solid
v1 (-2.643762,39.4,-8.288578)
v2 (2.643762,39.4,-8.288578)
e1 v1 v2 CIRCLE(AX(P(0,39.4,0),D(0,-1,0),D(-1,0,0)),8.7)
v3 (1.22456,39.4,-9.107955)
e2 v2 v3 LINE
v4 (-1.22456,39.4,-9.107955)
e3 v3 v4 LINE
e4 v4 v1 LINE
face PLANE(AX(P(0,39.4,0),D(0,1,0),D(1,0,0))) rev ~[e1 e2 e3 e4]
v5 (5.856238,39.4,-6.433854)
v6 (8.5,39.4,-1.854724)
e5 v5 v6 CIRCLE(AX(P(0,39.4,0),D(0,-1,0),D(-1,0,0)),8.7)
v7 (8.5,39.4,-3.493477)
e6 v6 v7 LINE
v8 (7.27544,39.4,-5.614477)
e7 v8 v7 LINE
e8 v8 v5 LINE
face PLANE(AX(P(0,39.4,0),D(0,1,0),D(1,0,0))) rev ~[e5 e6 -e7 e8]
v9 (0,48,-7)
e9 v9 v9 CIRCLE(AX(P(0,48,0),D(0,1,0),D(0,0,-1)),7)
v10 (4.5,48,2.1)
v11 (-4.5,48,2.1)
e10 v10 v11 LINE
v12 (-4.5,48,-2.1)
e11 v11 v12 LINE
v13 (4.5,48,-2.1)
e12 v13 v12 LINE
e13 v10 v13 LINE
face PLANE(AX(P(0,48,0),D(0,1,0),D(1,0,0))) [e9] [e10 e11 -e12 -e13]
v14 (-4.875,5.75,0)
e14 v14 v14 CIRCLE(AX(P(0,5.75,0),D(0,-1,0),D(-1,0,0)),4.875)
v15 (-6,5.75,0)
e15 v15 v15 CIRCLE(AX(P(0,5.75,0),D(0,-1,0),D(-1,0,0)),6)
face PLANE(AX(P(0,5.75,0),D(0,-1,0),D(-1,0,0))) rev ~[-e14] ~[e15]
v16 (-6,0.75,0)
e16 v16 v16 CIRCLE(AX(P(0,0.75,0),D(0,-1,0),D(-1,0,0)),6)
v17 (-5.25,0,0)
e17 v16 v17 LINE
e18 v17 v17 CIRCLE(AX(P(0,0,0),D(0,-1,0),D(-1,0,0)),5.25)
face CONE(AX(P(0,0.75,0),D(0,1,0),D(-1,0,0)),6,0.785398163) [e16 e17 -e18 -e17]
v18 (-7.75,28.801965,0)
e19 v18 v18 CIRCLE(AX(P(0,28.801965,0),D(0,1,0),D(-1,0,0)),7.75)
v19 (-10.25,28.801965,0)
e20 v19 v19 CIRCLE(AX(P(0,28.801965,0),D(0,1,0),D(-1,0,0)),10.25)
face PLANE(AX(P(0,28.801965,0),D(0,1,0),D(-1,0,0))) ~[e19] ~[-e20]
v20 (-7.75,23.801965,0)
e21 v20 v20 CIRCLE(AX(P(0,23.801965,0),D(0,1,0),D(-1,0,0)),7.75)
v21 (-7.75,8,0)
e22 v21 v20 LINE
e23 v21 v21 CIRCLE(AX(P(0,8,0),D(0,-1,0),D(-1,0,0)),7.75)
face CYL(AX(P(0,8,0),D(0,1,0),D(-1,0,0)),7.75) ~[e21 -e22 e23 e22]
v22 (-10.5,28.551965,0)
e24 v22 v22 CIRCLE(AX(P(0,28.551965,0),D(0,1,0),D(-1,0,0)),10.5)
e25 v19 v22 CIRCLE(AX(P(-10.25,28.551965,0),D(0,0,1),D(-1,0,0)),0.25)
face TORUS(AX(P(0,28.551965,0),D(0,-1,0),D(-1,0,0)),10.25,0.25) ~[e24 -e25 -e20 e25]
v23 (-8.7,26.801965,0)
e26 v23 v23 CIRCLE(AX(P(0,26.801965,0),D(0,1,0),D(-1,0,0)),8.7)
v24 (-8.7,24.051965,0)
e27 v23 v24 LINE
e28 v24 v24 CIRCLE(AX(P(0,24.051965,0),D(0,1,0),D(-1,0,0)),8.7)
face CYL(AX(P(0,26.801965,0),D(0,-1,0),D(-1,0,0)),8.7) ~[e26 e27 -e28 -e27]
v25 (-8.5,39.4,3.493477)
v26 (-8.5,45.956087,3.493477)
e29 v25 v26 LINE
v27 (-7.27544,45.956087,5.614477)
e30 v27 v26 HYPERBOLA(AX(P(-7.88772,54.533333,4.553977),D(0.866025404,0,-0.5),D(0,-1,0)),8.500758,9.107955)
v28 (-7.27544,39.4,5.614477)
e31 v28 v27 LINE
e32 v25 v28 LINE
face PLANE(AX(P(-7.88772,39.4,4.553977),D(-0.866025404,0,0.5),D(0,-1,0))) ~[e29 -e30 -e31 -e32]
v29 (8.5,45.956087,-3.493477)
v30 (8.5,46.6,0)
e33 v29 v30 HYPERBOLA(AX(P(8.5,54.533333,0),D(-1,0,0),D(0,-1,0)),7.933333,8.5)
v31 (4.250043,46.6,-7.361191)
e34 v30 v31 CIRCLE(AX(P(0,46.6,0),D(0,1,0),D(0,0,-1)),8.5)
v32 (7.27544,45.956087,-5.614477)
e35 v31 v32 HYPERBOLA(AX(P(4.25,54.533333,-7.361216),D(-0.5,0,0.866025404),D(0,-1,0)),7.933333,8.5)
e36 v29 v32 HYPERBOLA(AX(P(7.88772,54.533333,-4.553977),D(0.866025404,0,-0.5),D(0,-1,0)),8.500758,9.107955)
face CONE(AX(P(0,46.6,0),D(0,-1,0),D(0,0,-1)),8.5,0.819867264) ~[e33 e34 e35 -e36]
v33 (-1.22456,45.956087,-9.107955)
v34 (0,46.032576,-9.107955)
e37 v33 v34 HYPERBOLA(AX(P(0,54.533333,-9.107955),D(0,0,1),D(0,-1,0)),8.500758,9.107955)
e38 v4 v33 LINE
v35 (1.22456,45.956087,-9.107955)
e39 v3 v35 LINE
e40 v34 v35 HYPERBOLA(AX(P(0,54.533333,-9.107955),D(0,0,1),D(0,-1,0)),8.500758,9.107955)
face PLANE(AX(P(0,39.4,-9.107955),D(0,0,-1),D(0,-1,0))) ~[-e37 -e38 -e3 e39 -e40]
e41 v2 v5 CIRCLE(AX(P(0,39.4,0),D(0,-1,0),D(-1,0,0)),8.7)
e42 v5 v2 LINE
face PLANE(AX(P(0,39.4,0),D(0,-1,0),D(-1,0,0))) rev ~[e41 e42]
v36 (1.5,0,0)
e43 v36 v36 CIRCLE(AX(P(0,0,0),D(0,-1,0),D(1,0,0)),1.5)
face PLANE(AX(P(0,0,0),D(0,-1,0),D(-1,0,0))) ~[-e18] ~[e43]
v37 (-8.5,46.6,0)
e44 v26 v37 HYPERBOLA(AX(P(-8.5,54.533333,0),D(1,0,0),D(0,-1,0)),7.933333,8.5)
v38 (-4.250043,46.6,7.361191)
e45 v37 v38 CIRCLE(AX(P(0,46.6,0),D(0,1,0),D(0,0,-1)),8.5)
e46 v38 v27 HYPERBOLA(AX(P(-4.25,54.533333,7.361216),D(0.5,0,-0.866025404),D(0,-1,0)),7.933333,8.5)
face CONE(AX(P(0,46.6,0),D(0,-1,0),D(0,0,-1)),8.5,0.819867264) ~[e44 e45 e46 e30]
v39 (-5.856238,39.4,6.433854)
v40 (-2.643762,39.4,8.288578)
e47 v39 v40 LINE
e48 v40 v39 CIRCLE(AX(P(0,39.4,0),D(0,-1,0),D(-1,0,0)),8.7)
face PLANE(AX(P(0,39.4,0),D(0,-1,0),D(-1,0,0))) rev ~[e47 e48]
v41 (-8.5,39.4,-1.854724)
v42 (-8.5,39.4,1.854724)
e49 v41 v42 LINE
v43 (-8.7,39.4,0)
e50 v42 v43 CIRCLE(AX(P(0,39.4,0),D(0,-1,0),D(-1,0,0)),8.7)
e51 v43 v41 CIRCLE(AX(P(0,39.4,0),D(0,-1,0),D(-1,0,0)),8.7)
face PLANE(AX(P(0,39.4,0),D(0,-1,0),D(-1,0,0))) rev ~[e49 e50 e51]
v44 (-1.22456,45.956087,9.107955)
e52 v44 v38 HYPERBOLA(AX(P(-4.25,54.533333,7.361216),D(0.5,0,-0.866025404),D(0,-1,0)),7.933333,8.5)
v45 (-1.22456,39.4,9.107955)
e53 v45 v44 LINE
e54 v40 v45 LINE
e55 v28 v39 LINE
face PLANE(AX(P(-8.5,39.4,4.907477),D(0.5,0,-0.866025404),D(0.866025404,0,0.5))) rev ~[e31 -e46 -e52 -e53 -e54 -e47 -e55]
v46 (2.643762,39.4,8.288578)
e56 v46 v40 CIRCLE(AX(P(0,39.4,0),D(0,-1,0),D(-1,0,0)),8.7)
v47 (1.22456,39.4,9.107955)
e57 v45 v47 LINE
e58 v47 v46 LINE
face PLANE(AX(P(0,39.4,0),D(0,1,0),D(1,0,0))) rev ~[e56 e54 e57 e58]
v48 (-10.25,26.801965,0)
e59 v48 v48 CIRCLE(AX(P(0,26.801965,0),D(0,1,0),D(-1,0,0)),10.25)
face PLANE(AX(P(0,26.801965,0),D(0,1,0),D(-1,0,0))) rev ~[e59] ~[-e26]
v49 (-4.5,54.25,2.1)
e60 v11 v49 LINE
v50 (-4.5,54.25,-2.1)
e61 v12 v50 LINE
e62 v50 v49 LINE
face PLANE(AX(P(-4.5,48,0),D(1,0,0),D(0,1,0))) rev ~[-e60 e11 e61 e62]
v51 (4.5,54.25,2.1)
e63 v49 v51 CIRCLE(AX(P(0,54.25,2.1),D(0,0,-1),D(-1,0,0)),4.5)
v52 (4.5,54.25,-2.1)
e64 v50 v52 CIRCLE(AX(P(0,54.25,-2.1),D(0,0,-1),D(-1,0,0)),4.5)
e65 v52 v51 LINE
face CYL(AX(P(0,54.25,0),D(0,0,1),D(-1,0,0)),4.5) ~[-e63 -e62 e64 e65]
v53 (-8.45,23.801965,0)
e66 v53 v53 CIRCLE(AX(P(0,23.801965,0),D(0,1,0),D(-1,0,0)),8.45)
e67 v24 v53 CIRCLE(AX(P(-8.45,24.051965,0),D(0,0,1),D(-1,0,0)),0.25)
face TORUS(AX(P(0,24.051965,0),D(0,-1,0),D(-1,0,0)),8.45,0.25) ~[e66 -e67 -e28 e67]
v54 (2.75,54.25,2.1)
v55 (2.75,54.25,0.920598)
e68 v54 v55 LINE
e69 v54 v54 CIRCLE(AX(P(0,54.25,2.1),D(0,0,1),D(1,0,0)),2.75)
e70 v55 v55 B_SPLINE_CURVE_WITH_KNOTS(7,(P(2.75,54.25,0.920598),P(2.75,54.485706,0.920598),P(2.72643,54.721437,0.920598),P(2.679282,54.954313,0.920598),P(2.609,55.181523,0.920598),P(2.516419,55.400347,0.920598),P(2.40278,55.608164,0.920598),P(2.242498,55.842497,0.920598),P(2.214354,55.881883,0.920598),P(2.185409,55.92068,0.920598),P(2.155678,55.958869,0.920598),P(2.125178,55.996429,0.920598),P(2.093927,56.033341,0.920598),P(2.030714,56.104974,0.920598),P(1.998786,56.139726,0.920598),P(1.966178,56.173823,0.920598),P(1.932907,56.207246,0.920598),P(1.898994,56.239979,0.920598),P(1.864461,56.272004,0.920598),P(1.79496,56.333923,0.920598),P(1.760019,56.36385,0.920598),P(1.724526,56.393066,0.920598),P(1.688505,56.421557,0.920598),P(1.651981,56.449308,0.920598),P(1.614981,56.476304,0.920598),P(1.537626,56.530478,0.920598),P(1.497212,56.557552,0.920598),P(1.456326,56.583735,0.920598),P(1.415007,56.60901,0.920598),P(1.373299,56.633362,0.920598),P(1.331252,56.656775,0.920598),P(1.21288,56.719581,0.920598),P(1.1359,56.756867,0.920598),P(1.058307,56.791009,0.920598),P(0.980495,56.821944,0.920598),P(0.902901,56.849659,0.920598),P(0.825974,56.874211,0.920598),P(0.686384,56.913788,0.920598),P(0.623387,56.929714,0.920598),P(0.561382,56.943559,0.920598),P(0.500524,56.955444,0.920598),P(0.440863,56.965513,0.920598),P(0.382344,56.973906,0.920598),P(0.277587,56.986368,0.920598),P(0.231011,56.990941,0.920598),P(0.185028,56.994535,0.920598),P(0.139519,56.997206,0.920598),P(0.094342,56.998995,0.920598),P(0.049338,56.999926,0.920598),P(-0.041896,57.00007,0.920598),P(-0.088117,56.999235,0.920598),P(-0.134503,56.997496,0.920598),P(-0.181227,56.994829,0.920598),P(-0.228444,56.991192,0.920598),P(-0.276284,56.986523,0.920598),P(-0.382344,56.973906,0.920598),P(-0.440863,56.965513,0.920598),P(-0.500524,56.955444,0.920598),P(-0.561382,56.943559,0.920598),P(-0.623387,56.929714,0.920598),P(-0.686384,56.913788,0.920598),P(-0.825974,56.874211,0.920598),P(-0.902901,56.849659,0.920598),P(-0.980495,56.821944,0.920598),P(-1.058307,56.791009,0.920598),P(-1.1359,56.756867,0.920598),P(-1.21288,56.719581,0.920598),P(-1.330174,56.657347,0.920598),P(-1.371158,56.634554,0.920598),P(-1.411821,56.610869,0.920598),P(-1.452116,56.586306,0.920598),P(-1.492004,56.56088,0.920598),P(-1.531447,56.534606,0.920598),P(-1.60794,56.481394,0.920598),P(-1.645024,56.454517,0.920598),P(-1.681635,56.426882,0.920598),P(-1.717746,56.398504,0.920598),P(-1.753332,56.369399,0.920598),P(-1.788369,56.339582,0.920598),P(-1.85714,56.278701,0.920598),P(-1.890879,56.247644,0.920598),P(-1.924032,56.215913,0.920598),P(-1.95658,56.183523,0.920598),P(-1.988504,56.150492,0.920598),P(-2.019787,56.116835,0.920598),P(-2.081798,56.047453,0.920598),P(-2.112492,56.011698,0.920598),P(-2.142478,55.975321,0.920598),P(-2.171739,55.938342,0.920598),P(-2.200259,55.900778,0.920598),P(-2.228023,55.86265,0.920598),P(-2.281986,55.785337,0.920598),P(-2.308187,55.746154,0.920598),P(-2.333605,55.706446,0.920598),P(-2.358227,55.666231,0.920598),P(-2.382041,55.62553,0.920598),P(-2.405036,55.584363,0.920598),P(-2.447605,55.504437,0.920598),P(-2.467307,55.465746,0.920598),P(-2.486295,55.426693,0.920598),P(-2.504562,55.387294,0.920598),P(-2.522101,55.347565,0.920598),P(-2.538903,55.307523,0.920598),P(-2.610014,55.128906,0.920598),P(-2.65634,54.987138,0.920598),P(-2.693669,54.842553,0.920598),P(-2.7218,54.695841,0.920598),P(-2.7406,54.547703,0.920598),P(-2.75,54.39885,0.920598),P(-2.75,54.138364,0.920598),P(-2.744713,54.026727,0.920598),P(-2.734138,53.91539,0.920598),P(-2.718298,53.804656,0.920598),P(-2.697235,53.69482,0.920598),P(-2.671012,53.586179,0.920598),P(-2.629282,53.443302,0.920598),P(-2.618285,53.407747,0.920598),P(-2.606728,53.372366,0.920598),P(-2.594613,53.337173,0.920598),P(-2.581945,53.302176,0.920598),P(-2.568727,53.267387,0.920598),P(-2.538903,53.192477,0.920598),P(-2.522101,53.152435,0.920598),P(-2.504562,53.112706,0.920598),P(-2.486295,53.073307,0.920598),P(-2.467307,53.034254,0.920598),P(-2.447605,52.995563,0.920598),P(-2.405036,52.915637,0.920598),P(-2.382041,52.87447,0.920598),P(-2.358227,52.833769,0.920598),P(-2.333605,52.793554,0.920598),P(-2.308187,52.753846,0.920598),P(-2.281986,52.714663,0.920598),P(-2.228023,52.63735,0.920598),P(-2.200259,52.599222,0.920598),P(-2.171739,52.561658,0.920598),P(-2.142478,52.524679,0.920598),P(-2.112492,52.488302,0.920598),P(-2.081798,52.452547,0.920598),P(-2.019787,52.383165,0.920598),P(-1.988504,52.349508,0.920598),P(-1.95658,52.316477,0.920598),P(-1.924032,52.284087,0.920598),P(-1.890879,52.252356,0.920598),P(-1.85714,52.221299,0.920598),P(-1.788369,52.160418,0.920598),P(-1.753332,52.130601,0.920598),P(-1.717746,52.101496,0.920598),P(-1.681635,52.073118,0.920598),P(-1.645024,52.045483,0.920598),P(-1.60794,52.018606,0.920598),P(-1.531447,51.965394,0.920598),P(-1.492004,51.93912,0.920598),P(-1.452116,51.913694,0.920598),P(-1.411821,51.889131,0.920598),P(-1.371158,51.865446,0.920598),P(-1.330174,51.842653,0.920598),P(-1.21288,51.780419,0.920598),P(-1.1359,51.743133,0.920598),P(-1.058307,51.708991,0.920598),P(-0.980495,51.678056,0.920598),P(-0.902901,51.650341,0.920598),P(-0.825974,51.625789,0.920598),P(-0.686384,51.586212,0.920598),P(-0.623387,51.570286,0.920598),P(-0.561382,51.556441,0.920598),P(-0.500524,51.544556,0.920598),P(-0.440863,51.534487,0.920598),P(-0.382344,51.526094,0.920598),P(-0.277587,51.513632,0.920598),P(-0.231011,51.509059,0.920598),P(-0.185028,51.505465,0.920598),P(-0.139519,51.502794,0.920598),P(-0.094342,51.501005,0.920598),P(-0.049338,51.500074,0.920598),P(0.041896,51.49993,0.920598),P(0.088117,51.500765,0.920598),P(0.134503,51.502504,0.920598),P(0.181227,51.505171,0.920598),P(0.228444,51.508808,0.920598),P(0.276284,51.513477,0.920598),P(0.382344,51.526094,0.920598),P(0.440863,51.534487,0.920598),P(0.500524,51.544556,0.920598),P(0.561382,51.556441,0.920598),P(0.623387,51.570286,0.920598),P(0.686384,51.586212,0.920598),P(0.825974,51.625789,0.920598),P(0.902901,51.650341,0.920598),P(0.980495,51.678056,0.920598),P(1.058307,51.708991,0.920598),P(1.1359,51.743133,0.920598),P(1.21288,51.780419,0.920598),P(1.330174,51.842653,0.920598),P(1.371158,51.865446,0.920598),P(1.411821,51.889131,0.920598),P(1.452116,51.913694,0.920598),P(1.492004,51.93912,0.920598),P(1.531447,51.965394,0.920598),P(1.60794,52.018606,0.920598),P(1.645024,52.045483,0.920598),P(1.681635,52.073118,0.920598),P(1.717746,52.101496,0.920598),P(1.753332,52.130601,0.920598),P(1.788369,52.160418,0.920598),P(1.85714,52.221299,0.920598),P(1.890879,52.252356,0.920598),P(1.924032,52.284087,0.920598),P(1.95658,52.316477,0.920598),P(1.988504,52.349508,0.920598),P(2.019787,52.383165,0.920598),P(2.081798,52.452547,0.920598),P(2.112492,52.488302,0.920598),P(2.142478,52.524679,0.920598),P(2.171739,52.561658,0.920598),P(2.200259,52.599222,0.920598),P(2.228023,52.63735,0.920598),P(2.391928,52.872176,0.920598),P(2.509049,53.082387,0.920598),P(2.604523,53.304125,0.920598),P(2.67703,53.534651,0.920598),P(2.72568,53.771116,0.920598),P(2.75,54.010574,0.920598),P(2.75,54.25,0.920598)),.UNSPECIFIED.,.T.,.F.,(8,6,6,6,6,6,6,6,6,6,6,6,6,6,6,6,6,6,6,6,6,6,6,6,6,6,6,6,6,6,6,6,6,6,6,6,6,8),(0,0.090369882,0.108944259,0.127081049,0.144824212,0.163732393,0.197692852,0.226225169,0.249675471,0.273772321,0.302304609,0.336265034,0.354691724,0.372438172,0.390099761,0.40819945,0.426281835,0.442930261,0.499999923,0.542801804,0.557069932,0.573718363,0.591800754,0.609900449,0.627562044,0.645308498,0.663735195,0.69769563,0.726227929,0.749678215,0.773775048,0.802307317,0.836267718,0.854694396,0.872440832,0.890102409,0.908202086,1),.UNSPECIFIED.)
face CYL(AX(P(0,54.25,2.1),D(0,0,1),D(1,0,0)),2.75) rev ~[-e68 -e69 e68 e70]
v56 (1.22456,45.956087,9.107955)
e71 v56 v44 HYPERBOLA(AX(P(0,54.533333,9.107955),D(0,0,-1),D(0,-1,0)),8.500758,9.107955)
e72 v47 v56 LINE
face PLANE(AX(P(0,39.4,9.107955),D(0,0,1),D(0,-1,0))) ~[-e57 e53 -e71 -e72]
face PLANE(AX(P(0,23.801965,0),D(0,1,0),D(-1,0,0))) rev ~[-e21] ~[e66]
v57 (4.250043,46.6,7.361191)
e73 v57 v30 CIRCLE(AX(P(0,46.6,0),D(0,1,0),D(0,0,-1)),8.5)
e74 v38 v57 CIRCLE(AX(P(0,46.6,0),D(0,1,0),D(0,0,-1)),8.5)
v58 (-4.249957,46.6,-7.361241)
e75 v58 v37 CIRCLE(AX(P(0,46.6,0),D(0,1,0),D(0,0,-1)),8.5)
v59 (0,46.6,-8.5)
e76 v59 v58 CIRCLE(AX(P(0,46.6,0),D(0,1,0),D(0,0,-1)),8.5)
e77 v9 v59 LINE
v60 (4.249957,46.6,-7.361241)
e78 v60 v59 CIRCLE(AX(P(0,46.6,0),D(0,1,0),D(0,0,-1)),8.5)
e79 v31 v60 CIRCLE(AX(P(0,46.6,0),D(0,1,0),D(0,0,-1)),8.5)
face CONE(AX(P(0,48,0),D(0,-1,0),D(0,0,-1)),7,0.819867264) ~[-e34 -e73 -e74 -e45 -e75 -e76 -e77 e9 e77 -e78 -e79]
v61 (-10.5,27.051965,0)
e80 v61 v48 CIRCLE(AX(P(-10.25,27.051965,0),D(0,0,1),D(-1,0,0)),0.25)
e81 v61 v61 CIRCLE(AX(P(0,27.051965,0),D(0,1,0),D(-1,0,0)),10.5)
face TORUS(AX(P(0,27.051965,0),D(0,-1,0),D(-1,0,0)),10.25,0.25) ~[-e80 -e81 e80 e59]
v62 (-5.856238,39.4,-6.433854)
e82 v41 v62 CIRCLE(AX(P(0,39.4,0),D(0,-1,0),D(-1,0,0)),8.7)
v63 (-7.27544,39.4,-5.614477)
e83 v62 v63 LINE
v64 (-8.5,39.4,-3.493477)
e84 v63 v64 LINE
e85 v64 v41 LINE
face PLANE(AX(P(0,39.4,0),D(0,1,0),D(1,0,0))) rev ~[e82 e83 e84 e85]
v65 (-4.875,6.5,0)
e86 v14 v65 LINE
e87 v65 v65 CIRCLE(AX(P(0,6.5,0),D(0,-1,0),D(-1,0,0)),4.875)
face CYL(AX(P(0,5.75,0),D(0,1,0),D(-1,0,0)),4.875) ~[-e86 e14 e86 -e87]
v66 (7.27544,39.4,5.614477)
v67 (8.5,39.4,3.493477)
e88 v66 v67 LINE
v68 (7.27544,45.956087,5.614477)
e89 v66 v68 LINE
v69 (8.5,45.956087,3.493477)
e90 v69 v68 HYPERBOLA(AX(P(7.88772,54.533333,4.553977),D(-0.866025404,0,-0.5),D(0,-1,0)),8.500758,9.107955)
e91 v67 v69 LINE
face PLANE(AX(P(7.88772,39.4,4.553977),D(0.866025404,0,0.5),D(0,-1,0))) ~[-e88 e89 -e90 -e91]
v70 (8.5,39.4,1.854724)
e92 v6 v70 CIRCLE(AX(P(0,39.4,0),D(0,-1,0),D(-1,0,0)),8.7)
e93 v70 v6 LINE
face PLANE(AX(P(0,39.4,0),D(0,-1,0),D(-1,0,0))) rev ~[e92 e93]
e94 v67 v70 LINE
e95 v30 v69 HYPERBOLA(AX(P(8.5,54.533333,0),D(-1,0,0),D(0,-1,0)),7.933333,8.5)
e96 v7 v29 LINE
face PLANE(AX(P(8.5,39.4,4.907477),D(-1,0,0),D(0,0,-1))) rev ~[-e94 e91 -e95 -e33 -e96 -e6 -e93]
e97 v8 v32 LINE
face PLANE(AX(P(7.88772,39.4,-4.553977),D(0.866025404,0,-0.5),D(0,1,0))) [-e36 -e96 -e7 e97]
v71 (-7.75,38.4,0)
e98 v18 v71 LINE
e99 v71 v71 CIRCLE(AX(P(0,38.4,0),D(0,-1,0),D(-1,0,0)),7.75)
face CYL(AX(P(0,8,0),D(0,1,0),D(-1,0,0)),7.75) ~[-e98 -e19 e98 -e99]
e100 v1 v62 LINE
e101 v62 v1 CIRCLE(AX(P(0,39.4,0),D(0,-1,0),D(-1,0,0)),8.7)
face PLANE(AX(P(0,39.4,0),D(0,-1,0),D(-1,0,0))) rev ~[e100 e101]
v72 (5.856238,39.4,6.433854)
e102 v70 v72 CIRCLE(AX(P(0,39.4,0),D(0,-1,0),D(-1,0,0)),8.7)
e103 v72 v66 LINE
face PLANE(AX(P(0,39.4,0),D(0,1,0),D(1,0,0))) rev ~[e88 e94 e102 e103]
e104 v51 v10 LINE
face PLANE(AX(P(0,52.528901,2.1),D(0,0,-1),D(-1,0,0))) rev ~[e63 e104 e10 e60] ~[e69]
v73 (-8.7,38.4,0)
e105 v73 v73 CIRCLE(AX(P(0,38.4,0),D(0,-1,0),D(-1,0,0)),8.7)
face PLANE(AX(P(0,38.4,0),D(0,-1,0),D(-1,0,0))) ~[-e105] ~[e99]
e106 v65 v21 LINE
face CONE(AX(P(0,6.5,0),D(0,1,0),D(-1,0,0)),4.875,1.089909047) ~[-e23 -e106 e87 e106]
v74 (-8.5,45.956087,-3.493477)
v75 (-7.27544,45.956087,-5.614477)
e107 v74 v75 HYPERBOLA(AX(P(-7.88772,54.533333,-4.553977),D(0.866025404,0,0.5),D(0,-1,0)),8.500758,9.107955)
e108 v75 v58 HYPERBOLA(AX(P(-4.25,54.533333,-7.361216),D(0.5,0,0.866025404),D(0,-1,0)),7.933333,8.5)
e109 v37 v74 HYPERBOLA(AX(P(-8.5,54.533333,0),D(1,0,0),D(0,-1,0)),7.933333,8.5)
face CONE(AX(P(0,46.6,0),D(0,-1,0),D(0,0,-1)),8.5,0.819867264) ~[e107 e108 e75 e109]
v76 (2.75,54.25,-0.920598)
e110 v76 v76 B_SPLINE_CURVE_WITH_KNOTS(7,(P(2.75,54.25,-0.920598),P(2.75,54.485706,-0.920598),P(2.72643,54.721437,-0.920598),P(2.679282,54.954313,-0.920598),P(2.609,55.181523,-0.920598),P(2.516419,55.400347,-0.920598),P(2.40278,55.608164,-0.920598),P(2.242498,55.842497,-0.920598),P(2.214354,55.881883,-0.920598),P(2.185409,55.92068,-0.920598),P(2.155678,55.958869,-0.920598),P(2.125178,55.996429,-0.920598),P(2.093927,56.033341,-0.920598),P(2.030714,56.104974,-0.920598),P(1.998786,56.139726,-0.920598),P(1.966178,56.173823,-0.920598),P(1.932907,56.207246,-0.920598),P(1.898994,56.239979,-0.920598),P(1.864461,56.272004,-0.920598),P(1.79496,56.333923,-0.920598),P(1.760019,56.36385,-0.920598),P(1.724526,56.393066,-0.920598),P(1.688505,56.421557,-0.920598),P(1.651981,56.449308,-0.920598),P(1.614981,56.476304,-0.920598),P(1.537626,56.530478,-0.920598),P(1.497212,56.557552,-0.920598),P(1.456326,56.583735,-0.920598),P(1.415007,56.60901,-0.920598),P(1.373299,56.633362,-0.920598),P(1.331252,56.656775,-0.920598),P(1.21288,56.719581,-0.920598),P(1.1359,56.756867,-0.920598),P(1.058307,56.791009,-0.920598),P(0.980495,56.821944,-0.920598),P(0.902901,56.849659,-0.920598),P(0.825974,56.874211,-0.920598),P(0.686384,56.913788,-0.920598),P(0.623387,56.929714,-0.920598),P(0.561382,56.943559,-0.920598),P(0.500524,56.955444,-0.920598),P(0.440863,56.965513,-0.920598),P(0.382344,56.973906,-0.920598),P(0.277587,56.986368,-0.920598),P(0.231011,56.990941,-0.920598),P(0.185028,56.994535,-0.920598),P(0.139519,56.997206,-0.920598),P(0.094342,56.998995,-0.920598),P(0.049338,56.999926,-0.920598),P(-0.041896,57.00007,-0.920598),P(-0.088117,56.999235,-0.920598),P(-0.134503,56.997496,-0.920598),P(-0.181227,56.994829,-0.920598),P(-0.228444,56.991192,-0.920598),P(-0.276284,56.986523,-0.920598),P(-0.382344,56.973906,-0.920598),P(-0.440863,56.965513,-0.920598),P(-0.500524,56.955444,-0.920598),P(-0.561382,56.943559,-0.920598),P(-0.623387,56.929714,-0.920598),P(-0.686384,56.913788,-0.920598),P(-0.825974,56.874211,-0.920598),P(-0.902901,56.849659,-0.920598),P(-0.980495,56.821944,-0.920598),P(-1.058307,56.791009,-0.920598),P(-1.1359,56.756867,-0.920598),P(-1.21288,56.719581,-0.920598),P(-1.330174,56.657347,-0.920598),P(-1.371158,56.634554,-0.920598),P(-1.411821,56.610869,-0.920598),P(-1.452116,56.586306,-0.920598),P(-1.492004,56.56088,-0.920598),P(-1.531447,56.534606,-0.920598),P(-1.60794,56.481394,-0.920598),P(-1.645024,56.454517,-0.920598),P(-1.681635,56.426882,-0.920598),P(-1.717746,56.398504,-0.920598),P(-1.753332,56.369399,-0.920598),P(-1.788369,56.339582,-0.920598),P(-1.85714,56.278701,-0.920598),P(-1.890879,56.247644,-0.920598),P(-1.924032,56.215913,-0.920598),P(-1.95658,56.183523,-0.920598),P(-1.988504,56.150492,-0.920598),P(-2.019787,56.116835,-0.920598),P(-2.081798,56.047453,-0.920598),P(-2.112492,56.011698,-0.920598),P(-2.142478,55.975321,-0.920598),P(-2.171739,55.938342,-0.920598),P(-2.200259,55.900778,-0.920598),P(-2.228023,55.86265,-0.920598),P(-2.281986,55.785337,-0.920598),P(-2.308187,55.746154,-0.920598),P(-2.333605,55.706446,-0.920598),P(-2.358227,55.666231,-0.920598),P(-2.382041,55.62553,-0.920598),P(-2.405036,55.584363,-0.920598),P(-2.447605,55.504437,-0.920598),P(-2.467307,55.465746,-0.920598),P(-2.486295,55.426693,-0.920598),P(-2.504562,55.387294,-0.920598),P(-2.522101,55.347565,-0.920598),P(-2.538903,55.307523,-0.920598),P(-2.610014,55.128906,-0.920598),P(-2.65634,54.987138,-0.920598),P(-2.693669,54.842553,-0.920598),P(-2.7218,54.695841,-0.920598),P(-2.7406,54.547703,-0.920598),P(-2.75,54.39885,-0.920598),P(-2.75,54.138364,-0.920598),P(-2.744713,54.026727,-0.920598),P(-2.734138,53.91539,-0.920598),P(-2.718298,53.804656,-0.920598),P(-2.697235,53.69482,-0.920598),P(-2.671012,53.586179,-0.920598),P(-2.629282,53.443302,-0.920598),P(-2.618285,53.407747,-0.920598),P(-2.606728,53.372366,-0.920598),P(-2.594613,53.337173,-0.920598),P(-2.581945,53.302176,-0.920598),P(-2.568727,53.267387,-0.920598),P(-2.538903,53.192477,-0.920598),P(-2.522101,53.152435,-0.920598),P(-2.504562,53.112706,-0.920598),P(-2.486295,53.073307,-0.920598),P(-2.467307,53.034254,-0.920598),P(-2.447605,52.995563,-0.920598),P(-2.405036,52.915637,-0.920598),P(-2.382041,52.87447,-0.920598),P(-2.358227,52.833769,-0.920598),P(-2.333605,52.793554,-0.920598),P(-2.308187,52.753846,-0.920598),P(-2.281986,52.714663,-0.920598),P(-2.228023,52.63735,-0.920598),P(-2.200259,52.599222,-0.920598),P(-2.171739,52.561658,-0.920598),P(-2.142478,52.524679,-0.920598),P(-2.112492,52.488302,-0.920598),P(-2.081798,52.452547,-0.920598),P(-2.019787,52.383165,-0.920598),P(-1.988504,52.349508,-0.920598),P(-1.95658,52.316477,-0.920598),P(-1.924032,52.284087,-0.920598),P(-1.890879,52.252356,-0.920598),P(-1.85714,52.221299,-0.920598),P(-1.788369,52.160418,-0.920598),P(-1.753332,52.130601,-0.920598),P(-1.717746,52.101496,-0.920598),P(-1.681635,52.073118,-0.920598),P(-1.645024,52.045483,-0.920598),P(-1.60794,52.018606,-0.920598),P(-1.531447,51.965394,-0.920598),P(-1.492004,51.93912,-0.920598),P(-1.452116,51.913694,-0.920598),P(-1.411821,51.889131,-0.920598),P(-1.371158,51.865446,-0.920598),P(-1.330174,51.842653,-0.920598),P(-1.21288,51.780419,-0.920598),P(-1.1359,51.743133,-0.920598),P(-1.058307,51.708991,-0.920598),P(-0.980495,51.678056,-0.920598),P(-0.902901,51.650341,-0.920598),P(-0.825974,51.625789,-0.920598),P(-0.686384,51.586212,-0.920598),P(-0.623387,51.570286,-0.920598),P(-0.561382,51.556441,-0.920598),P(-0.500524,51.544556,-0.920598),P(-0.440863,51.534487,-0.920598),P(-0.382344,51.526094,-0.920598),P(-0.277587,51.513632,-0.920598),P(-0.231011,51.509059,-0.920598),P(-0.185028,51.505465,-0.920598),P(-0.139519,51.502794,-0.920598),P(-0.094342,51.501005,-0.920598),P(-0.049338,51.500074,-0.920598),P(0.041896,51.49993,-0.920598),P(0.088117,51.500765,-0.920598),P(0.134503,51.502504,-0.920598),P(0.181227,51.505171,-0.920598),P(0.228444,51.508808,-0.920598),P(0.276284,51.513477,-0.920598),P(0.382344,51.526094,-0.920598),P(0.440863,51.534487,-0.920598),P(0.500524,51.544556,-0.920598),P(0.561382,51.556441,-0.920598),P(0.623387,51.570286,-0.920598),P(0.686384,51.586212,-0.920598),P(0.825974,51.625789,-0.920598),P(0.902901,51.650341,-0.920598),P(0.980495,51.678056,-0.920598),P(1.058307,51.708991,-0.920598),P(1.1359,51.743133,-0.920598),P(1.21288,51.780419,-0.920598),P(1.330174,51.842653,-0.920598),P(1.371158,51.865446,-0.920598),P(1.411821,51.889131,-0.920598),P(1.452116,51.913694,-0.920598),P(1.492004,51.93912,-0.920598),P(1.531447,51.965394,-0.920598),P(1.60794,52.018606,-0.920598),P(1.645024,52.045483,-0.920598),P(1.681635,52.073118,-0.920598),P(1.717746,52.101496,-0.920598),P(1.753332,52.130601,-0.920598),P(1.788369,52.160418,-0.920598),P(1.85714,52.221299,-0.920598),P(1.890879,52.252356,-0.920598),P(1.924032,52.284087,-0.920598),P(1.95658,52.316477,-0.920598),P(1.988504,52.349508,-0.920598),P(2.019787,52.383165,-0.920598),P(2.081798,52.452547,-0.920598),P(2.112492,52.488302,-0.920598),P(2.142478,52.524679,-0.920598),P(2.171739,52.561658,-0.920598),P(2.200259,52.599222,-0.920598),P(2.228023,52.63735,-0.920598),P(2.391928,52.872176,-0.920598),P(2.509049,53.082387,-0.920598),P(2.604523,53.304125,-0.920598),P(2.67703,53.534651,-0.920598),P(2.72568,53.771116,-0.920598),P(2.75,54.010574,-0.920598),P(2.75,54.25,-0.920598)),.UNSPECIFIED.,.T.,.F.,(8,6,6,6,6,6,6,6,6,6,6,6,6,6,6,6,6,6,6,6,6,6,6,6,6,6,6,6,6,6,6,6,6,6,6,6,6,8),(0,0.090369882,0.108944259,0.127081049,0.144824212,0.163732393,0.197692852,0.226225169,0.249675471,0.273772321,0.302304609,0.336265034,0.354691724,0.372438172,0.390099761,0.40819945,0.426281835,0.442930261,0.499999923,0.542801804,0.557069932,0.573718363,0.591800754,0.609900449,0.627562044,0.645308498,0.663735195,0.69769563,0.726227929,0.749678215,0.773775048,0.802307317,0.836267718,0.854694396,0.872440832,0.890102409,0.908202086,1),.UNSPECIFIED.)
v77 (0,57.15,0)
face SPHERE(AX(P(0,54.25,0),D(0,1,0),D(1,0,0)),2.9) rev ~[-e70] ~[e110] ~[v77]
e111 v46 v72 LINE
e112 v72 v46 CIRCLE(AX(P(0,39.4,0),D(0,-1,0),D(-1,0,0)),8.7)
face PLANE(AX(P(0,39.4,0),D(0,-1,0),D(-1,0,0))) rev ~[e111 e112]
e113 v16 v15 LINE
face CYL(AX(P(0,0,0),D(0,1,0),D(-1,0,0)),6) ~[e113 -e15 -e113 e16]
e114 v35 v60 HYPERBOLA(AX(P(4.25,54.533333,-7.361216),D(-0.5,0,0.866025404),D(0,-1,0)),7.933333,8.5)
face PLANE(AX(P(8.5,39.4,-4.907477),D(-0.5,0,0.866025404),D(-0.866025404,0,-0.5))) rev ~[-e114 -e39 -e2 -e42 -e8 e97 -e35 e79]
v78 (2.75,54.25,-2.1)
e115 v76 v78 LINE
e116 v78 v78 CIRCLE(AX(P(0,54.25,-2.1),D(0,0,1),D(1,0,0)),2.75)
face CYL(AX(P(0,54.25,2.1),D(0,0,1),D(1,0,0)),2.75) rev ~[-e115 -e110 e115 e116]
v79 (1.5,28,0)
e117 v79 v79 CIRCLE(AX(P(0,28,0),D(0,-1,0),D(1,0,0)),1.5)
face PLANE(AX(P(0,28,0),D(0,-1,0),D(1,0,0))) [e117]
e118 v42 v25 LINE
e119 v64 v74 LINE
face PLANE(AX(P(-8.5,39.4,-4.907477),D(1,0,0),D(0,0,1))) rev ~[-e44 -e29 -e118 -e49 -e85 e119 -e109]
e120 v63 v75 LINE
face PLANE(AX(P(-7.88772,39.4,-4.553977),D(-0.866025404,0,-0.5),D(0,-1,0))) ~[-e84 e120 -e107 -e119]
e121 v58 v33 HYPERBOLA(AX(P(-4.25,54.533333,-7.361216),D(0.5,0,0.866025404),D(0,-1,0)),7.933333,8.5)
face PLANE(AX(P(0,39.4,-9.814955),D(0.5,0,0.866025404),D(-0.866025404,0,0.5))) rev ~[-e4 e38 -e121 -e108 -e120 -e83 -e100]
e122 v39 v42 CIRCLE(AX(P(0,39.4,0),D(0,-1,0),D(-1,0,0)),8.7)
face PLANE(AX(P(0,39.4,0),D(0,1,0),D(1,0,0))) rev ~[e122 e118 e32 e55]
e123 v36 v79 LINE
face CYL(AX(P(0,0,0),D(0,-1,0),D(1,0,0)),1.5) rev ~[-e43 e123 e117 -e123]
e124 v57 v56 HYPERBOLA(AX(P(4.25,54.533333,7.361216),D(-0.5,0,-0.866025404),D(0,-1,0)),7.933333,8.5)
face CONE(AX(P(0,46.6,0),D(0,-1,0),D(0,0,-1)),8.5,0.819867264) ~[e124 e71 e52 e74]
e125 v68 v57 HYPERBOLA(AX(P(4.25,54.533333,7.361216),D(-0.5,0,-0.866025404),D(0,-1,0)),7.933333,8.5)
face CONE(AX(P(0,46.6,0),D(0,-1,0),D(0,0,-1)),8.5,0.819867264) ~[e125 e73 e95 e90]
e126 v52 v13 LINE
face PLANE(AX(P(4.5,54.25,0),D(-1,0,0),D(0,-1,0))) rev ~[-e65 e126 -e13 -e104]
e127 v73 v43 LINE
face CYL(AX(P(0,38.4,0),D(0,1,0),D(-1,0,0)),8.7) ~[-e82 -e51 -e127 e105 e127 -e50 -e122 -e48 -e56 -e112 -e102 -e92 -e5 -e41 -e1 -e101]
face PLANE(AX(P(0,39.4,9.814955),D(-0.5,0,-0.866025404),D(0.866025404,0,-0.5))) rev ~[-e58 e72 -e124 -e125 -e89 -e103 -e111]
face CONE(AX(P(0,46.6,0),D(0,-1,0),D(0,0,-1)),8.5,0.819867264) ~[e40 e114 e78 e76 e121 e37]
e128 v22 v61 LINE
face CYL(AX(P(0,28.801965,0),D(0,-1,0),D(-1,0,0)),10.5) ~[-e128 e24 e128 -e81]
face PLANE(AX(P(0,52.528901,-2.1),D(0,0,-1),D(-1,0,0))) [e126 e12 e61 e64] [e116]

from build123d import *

# Parameters (mm, degrees)
BOSS_EXTRUDE1_DEPTH  = 8.6
CHAMFER1_SIZE        = 1.414
CHAMFER1_EDGE_2_SIZE = 1.414
CHAMFER1_EDGE_3_SIZE = 1.414
CHAMFER1_EDGE_4_SIZE = 1.414
CHAMFER1_EDGE_5_SIZE = 1.414
CHAMFER1_EDGE_6_SIZE = 1.414
FILLET2_R            = 0.25
SKETCH6_R            = 1.5
CUT_EXTRUDE1_DEPTH   = 28
BOSS_EXTRUDE2_DEPTH  = 2.1
SKETCH9_R            = 2.75
CUT_EXTRUDE2_DEPTH   = 4.2
CHAMFER3_SIZE        = 0.75


with BuildPart() as part:
    # Sketch1 → Revolve1 (revolve)
    with BuildSketch(Plane.XY, mode=Mode.PRIVATE) as revolve1_sk:
        Polygon((0, 0), (6, 0), (6, 5.75), (4.875, 5.75), (4.875, 6.5), (7.75, 8), (7.75, 38.4), (8.7, 38.4), (8.7, 39.4), (0, 39.4), align=None)
    revolve(revolve1_sk.sketch.rotate(Axis((0, 39.4, 0), (0, -1, 0)), 180), axis=Axis((0, 39.4, 0), (0, -1, 0)))

    # Sketch3 → Boss-Extrude1 (add)
    with BuildSketch(Plane(origin=(0, 39.4, 0), x_dir=(1, 0, 0), z_dir=(0, 1, 0))):
        Polygon((0, 9.814954576), (-8.5, 4.907477288), (-8.5, -4.907477288), (0, -9.814954576), (8.5, -4.907477288), (8.5, 4.907477288), align=None)
    extrude(amount=BOSS_EXTRUDE1_DEPTH)

    # Chamfer1
    chamfer1_edges = [part.edges().sort_by_distance(p)[0] for p in [
        (8.5, 43.7, -4.907477288),
    ]]
    chamfer(chamfer1_edges, length=CHAMFER1_SIZE)

    # Chamfer1 edge 2
    chamfer1_edge_2_edges = [part.edges().sort_by_distance(p)[0] for p in [
        (0, 43.7, -9.814954576),
    ]]
    chamfer(chamfer1_edge_2_edges, length=CHAMFER1_EDGE_2_SIZE)

    # Chamfer1 edge 3
    chamfer1_edge_3_edges = [part.edges().sort_by_distance(p)[0] for p in [
        (-8.5, 43.7, -4.907477288),
    ]]
    chamfer(chamfer1_edge_3_edges, length=CHAMFER1_EDGE_3_SIZE)

    # Chamfer1 edge 4
    chamfer1_edge_4_edges = [part.edges().sort_by_distance(p)[0] for p in [
        (-8.5, 43.7, 4.907477288),
    ]]
    chamfer(chamfer1_edge_4_edges, length=CHAMFER1_EDGE_4_SIZE)

    # Chamfer1 edge 5
    chamfer1_edge_5_edges = [part.edges().sort_by_distance(p)[0] for p in [
        (0, 43.7, 9.814954576),
    ]]
    chamfer(chamfer1_edge_5_edges, length=CHAMFER1_EDGE_5_SIZE)

    # Chamfer1 edge 6
    chamfer1_edge_6_edges = [part.edges().sort_by_distance(p)[0] for p in [
        (8.5, 43.7, 4.907477288),
    ]]
    chamfer(chamfer1_edge_6_edges, length=CHAMFER1_EDGE_6_SIZE)

    # Sketch5 → Revolve2 (revolve)
    with BuildSketch(Plane.XY, mode=Mode.PRIVATE) as revolve2_sk:
        Polygon((7.75, 28.801965379), (10.5, 28.801965379), (10.5, 26.801965379), (8.7, 26.801965379), (8.7, 23.801965379), (7.75, 23.801965379), align=None)
    revolve(revolve2_sk.sketch.rotate(Axis((0, 0, 0), (0, 1, 0)), 180), axis=Axis((0, 0, 0), (0, 1, 0)))

    # Fillet2
    fillet2_edges = [part.edges().sort_by_distance(p)[0] for p in [
        (10.5, 28.801965379, 0),
        (10.5, 26.801965379, 0),
        (8.7, 23.801965379, 0),
    ]]
    fillet(fillet2_edges, radius=FILLET2_R)

    # Sketch6 → Cut-Extrude1 (cut)
    with BuildSketch(Plane.XZ):
        Circle(SKETCH6_R)
    extrude(amount=-CUT_EXTRUDE1_DEPTH, mode=Mode.SUBTRACT)

    # Sketch7 → Boss-Extrude2 (add, symmetric)
    with BuildSketch(Plane.XY):
        with BuildLine():
            Line((4.5, 54.25), (4.5, 48))
            Line((4.5, 48), (-4.5, 48))
            Line((-4.5, 48), (-4.5, 54.25))
            ThreePointArc((-4.5, 54.25), (0, 58.75), (4.5, 54.25))
        make_face()
    extrude(amount=BOSS_EXTRUDE2_DEPTH, both=True)

    # Sketch8 → Cut-Revolve1 (revolve, cut)
    with BuildSketch(Plane.XY):
        with BuildLine():
            Line((0, 57.15), (0, 51.35))
            ThreePointArc((0, 51.35), (2.9, 54.25), (0, 57.15))
        make_face()
    revolve(axis=Axis((0, 48, 0), (0, 1, 0)), mode=Mode.SUBTRACT)

    # Sketch10 → Cut-Revolve2 (revolve, cut)
    with BuildSketch(Plane.XY, mode=Mode.PRIVATE) as cut_revolve2_sk:
        Polygon((7, 48), (8.5, 46.6), (10.124681139, 45.083630937), (10.124681139, 47.819402207), (7, 50.73577127), align=None)
    revolve(cut_revolve2_sk.sketch.rotate(Axis((0, 0, 0), (0, 1, 0)), 90), axis=Axis((0, 0, 0), (0, 1, 0)), mode=Mode.SUBTRACT)

    # Sketch9 → Cut-Extrude2 (cut)
    with BuildSketch(Plane.XY.offset(2.1)):
        with Locations((0, 54.25)):
            Circle(SKETCH9_R)
    extrude(amount=-CUT_EXTRUDE2_DEPTH, mode=Mode.SUBTRACT)

    # Chamfer3
    chamfer3_edges = [part.edges().sort_by_distance(p)[0] for p in [
        (6, 0, 0),
    ]]
    chamfer(chamfer3_edges, length=CHAMFER3_SIZE)


solid = part.part
